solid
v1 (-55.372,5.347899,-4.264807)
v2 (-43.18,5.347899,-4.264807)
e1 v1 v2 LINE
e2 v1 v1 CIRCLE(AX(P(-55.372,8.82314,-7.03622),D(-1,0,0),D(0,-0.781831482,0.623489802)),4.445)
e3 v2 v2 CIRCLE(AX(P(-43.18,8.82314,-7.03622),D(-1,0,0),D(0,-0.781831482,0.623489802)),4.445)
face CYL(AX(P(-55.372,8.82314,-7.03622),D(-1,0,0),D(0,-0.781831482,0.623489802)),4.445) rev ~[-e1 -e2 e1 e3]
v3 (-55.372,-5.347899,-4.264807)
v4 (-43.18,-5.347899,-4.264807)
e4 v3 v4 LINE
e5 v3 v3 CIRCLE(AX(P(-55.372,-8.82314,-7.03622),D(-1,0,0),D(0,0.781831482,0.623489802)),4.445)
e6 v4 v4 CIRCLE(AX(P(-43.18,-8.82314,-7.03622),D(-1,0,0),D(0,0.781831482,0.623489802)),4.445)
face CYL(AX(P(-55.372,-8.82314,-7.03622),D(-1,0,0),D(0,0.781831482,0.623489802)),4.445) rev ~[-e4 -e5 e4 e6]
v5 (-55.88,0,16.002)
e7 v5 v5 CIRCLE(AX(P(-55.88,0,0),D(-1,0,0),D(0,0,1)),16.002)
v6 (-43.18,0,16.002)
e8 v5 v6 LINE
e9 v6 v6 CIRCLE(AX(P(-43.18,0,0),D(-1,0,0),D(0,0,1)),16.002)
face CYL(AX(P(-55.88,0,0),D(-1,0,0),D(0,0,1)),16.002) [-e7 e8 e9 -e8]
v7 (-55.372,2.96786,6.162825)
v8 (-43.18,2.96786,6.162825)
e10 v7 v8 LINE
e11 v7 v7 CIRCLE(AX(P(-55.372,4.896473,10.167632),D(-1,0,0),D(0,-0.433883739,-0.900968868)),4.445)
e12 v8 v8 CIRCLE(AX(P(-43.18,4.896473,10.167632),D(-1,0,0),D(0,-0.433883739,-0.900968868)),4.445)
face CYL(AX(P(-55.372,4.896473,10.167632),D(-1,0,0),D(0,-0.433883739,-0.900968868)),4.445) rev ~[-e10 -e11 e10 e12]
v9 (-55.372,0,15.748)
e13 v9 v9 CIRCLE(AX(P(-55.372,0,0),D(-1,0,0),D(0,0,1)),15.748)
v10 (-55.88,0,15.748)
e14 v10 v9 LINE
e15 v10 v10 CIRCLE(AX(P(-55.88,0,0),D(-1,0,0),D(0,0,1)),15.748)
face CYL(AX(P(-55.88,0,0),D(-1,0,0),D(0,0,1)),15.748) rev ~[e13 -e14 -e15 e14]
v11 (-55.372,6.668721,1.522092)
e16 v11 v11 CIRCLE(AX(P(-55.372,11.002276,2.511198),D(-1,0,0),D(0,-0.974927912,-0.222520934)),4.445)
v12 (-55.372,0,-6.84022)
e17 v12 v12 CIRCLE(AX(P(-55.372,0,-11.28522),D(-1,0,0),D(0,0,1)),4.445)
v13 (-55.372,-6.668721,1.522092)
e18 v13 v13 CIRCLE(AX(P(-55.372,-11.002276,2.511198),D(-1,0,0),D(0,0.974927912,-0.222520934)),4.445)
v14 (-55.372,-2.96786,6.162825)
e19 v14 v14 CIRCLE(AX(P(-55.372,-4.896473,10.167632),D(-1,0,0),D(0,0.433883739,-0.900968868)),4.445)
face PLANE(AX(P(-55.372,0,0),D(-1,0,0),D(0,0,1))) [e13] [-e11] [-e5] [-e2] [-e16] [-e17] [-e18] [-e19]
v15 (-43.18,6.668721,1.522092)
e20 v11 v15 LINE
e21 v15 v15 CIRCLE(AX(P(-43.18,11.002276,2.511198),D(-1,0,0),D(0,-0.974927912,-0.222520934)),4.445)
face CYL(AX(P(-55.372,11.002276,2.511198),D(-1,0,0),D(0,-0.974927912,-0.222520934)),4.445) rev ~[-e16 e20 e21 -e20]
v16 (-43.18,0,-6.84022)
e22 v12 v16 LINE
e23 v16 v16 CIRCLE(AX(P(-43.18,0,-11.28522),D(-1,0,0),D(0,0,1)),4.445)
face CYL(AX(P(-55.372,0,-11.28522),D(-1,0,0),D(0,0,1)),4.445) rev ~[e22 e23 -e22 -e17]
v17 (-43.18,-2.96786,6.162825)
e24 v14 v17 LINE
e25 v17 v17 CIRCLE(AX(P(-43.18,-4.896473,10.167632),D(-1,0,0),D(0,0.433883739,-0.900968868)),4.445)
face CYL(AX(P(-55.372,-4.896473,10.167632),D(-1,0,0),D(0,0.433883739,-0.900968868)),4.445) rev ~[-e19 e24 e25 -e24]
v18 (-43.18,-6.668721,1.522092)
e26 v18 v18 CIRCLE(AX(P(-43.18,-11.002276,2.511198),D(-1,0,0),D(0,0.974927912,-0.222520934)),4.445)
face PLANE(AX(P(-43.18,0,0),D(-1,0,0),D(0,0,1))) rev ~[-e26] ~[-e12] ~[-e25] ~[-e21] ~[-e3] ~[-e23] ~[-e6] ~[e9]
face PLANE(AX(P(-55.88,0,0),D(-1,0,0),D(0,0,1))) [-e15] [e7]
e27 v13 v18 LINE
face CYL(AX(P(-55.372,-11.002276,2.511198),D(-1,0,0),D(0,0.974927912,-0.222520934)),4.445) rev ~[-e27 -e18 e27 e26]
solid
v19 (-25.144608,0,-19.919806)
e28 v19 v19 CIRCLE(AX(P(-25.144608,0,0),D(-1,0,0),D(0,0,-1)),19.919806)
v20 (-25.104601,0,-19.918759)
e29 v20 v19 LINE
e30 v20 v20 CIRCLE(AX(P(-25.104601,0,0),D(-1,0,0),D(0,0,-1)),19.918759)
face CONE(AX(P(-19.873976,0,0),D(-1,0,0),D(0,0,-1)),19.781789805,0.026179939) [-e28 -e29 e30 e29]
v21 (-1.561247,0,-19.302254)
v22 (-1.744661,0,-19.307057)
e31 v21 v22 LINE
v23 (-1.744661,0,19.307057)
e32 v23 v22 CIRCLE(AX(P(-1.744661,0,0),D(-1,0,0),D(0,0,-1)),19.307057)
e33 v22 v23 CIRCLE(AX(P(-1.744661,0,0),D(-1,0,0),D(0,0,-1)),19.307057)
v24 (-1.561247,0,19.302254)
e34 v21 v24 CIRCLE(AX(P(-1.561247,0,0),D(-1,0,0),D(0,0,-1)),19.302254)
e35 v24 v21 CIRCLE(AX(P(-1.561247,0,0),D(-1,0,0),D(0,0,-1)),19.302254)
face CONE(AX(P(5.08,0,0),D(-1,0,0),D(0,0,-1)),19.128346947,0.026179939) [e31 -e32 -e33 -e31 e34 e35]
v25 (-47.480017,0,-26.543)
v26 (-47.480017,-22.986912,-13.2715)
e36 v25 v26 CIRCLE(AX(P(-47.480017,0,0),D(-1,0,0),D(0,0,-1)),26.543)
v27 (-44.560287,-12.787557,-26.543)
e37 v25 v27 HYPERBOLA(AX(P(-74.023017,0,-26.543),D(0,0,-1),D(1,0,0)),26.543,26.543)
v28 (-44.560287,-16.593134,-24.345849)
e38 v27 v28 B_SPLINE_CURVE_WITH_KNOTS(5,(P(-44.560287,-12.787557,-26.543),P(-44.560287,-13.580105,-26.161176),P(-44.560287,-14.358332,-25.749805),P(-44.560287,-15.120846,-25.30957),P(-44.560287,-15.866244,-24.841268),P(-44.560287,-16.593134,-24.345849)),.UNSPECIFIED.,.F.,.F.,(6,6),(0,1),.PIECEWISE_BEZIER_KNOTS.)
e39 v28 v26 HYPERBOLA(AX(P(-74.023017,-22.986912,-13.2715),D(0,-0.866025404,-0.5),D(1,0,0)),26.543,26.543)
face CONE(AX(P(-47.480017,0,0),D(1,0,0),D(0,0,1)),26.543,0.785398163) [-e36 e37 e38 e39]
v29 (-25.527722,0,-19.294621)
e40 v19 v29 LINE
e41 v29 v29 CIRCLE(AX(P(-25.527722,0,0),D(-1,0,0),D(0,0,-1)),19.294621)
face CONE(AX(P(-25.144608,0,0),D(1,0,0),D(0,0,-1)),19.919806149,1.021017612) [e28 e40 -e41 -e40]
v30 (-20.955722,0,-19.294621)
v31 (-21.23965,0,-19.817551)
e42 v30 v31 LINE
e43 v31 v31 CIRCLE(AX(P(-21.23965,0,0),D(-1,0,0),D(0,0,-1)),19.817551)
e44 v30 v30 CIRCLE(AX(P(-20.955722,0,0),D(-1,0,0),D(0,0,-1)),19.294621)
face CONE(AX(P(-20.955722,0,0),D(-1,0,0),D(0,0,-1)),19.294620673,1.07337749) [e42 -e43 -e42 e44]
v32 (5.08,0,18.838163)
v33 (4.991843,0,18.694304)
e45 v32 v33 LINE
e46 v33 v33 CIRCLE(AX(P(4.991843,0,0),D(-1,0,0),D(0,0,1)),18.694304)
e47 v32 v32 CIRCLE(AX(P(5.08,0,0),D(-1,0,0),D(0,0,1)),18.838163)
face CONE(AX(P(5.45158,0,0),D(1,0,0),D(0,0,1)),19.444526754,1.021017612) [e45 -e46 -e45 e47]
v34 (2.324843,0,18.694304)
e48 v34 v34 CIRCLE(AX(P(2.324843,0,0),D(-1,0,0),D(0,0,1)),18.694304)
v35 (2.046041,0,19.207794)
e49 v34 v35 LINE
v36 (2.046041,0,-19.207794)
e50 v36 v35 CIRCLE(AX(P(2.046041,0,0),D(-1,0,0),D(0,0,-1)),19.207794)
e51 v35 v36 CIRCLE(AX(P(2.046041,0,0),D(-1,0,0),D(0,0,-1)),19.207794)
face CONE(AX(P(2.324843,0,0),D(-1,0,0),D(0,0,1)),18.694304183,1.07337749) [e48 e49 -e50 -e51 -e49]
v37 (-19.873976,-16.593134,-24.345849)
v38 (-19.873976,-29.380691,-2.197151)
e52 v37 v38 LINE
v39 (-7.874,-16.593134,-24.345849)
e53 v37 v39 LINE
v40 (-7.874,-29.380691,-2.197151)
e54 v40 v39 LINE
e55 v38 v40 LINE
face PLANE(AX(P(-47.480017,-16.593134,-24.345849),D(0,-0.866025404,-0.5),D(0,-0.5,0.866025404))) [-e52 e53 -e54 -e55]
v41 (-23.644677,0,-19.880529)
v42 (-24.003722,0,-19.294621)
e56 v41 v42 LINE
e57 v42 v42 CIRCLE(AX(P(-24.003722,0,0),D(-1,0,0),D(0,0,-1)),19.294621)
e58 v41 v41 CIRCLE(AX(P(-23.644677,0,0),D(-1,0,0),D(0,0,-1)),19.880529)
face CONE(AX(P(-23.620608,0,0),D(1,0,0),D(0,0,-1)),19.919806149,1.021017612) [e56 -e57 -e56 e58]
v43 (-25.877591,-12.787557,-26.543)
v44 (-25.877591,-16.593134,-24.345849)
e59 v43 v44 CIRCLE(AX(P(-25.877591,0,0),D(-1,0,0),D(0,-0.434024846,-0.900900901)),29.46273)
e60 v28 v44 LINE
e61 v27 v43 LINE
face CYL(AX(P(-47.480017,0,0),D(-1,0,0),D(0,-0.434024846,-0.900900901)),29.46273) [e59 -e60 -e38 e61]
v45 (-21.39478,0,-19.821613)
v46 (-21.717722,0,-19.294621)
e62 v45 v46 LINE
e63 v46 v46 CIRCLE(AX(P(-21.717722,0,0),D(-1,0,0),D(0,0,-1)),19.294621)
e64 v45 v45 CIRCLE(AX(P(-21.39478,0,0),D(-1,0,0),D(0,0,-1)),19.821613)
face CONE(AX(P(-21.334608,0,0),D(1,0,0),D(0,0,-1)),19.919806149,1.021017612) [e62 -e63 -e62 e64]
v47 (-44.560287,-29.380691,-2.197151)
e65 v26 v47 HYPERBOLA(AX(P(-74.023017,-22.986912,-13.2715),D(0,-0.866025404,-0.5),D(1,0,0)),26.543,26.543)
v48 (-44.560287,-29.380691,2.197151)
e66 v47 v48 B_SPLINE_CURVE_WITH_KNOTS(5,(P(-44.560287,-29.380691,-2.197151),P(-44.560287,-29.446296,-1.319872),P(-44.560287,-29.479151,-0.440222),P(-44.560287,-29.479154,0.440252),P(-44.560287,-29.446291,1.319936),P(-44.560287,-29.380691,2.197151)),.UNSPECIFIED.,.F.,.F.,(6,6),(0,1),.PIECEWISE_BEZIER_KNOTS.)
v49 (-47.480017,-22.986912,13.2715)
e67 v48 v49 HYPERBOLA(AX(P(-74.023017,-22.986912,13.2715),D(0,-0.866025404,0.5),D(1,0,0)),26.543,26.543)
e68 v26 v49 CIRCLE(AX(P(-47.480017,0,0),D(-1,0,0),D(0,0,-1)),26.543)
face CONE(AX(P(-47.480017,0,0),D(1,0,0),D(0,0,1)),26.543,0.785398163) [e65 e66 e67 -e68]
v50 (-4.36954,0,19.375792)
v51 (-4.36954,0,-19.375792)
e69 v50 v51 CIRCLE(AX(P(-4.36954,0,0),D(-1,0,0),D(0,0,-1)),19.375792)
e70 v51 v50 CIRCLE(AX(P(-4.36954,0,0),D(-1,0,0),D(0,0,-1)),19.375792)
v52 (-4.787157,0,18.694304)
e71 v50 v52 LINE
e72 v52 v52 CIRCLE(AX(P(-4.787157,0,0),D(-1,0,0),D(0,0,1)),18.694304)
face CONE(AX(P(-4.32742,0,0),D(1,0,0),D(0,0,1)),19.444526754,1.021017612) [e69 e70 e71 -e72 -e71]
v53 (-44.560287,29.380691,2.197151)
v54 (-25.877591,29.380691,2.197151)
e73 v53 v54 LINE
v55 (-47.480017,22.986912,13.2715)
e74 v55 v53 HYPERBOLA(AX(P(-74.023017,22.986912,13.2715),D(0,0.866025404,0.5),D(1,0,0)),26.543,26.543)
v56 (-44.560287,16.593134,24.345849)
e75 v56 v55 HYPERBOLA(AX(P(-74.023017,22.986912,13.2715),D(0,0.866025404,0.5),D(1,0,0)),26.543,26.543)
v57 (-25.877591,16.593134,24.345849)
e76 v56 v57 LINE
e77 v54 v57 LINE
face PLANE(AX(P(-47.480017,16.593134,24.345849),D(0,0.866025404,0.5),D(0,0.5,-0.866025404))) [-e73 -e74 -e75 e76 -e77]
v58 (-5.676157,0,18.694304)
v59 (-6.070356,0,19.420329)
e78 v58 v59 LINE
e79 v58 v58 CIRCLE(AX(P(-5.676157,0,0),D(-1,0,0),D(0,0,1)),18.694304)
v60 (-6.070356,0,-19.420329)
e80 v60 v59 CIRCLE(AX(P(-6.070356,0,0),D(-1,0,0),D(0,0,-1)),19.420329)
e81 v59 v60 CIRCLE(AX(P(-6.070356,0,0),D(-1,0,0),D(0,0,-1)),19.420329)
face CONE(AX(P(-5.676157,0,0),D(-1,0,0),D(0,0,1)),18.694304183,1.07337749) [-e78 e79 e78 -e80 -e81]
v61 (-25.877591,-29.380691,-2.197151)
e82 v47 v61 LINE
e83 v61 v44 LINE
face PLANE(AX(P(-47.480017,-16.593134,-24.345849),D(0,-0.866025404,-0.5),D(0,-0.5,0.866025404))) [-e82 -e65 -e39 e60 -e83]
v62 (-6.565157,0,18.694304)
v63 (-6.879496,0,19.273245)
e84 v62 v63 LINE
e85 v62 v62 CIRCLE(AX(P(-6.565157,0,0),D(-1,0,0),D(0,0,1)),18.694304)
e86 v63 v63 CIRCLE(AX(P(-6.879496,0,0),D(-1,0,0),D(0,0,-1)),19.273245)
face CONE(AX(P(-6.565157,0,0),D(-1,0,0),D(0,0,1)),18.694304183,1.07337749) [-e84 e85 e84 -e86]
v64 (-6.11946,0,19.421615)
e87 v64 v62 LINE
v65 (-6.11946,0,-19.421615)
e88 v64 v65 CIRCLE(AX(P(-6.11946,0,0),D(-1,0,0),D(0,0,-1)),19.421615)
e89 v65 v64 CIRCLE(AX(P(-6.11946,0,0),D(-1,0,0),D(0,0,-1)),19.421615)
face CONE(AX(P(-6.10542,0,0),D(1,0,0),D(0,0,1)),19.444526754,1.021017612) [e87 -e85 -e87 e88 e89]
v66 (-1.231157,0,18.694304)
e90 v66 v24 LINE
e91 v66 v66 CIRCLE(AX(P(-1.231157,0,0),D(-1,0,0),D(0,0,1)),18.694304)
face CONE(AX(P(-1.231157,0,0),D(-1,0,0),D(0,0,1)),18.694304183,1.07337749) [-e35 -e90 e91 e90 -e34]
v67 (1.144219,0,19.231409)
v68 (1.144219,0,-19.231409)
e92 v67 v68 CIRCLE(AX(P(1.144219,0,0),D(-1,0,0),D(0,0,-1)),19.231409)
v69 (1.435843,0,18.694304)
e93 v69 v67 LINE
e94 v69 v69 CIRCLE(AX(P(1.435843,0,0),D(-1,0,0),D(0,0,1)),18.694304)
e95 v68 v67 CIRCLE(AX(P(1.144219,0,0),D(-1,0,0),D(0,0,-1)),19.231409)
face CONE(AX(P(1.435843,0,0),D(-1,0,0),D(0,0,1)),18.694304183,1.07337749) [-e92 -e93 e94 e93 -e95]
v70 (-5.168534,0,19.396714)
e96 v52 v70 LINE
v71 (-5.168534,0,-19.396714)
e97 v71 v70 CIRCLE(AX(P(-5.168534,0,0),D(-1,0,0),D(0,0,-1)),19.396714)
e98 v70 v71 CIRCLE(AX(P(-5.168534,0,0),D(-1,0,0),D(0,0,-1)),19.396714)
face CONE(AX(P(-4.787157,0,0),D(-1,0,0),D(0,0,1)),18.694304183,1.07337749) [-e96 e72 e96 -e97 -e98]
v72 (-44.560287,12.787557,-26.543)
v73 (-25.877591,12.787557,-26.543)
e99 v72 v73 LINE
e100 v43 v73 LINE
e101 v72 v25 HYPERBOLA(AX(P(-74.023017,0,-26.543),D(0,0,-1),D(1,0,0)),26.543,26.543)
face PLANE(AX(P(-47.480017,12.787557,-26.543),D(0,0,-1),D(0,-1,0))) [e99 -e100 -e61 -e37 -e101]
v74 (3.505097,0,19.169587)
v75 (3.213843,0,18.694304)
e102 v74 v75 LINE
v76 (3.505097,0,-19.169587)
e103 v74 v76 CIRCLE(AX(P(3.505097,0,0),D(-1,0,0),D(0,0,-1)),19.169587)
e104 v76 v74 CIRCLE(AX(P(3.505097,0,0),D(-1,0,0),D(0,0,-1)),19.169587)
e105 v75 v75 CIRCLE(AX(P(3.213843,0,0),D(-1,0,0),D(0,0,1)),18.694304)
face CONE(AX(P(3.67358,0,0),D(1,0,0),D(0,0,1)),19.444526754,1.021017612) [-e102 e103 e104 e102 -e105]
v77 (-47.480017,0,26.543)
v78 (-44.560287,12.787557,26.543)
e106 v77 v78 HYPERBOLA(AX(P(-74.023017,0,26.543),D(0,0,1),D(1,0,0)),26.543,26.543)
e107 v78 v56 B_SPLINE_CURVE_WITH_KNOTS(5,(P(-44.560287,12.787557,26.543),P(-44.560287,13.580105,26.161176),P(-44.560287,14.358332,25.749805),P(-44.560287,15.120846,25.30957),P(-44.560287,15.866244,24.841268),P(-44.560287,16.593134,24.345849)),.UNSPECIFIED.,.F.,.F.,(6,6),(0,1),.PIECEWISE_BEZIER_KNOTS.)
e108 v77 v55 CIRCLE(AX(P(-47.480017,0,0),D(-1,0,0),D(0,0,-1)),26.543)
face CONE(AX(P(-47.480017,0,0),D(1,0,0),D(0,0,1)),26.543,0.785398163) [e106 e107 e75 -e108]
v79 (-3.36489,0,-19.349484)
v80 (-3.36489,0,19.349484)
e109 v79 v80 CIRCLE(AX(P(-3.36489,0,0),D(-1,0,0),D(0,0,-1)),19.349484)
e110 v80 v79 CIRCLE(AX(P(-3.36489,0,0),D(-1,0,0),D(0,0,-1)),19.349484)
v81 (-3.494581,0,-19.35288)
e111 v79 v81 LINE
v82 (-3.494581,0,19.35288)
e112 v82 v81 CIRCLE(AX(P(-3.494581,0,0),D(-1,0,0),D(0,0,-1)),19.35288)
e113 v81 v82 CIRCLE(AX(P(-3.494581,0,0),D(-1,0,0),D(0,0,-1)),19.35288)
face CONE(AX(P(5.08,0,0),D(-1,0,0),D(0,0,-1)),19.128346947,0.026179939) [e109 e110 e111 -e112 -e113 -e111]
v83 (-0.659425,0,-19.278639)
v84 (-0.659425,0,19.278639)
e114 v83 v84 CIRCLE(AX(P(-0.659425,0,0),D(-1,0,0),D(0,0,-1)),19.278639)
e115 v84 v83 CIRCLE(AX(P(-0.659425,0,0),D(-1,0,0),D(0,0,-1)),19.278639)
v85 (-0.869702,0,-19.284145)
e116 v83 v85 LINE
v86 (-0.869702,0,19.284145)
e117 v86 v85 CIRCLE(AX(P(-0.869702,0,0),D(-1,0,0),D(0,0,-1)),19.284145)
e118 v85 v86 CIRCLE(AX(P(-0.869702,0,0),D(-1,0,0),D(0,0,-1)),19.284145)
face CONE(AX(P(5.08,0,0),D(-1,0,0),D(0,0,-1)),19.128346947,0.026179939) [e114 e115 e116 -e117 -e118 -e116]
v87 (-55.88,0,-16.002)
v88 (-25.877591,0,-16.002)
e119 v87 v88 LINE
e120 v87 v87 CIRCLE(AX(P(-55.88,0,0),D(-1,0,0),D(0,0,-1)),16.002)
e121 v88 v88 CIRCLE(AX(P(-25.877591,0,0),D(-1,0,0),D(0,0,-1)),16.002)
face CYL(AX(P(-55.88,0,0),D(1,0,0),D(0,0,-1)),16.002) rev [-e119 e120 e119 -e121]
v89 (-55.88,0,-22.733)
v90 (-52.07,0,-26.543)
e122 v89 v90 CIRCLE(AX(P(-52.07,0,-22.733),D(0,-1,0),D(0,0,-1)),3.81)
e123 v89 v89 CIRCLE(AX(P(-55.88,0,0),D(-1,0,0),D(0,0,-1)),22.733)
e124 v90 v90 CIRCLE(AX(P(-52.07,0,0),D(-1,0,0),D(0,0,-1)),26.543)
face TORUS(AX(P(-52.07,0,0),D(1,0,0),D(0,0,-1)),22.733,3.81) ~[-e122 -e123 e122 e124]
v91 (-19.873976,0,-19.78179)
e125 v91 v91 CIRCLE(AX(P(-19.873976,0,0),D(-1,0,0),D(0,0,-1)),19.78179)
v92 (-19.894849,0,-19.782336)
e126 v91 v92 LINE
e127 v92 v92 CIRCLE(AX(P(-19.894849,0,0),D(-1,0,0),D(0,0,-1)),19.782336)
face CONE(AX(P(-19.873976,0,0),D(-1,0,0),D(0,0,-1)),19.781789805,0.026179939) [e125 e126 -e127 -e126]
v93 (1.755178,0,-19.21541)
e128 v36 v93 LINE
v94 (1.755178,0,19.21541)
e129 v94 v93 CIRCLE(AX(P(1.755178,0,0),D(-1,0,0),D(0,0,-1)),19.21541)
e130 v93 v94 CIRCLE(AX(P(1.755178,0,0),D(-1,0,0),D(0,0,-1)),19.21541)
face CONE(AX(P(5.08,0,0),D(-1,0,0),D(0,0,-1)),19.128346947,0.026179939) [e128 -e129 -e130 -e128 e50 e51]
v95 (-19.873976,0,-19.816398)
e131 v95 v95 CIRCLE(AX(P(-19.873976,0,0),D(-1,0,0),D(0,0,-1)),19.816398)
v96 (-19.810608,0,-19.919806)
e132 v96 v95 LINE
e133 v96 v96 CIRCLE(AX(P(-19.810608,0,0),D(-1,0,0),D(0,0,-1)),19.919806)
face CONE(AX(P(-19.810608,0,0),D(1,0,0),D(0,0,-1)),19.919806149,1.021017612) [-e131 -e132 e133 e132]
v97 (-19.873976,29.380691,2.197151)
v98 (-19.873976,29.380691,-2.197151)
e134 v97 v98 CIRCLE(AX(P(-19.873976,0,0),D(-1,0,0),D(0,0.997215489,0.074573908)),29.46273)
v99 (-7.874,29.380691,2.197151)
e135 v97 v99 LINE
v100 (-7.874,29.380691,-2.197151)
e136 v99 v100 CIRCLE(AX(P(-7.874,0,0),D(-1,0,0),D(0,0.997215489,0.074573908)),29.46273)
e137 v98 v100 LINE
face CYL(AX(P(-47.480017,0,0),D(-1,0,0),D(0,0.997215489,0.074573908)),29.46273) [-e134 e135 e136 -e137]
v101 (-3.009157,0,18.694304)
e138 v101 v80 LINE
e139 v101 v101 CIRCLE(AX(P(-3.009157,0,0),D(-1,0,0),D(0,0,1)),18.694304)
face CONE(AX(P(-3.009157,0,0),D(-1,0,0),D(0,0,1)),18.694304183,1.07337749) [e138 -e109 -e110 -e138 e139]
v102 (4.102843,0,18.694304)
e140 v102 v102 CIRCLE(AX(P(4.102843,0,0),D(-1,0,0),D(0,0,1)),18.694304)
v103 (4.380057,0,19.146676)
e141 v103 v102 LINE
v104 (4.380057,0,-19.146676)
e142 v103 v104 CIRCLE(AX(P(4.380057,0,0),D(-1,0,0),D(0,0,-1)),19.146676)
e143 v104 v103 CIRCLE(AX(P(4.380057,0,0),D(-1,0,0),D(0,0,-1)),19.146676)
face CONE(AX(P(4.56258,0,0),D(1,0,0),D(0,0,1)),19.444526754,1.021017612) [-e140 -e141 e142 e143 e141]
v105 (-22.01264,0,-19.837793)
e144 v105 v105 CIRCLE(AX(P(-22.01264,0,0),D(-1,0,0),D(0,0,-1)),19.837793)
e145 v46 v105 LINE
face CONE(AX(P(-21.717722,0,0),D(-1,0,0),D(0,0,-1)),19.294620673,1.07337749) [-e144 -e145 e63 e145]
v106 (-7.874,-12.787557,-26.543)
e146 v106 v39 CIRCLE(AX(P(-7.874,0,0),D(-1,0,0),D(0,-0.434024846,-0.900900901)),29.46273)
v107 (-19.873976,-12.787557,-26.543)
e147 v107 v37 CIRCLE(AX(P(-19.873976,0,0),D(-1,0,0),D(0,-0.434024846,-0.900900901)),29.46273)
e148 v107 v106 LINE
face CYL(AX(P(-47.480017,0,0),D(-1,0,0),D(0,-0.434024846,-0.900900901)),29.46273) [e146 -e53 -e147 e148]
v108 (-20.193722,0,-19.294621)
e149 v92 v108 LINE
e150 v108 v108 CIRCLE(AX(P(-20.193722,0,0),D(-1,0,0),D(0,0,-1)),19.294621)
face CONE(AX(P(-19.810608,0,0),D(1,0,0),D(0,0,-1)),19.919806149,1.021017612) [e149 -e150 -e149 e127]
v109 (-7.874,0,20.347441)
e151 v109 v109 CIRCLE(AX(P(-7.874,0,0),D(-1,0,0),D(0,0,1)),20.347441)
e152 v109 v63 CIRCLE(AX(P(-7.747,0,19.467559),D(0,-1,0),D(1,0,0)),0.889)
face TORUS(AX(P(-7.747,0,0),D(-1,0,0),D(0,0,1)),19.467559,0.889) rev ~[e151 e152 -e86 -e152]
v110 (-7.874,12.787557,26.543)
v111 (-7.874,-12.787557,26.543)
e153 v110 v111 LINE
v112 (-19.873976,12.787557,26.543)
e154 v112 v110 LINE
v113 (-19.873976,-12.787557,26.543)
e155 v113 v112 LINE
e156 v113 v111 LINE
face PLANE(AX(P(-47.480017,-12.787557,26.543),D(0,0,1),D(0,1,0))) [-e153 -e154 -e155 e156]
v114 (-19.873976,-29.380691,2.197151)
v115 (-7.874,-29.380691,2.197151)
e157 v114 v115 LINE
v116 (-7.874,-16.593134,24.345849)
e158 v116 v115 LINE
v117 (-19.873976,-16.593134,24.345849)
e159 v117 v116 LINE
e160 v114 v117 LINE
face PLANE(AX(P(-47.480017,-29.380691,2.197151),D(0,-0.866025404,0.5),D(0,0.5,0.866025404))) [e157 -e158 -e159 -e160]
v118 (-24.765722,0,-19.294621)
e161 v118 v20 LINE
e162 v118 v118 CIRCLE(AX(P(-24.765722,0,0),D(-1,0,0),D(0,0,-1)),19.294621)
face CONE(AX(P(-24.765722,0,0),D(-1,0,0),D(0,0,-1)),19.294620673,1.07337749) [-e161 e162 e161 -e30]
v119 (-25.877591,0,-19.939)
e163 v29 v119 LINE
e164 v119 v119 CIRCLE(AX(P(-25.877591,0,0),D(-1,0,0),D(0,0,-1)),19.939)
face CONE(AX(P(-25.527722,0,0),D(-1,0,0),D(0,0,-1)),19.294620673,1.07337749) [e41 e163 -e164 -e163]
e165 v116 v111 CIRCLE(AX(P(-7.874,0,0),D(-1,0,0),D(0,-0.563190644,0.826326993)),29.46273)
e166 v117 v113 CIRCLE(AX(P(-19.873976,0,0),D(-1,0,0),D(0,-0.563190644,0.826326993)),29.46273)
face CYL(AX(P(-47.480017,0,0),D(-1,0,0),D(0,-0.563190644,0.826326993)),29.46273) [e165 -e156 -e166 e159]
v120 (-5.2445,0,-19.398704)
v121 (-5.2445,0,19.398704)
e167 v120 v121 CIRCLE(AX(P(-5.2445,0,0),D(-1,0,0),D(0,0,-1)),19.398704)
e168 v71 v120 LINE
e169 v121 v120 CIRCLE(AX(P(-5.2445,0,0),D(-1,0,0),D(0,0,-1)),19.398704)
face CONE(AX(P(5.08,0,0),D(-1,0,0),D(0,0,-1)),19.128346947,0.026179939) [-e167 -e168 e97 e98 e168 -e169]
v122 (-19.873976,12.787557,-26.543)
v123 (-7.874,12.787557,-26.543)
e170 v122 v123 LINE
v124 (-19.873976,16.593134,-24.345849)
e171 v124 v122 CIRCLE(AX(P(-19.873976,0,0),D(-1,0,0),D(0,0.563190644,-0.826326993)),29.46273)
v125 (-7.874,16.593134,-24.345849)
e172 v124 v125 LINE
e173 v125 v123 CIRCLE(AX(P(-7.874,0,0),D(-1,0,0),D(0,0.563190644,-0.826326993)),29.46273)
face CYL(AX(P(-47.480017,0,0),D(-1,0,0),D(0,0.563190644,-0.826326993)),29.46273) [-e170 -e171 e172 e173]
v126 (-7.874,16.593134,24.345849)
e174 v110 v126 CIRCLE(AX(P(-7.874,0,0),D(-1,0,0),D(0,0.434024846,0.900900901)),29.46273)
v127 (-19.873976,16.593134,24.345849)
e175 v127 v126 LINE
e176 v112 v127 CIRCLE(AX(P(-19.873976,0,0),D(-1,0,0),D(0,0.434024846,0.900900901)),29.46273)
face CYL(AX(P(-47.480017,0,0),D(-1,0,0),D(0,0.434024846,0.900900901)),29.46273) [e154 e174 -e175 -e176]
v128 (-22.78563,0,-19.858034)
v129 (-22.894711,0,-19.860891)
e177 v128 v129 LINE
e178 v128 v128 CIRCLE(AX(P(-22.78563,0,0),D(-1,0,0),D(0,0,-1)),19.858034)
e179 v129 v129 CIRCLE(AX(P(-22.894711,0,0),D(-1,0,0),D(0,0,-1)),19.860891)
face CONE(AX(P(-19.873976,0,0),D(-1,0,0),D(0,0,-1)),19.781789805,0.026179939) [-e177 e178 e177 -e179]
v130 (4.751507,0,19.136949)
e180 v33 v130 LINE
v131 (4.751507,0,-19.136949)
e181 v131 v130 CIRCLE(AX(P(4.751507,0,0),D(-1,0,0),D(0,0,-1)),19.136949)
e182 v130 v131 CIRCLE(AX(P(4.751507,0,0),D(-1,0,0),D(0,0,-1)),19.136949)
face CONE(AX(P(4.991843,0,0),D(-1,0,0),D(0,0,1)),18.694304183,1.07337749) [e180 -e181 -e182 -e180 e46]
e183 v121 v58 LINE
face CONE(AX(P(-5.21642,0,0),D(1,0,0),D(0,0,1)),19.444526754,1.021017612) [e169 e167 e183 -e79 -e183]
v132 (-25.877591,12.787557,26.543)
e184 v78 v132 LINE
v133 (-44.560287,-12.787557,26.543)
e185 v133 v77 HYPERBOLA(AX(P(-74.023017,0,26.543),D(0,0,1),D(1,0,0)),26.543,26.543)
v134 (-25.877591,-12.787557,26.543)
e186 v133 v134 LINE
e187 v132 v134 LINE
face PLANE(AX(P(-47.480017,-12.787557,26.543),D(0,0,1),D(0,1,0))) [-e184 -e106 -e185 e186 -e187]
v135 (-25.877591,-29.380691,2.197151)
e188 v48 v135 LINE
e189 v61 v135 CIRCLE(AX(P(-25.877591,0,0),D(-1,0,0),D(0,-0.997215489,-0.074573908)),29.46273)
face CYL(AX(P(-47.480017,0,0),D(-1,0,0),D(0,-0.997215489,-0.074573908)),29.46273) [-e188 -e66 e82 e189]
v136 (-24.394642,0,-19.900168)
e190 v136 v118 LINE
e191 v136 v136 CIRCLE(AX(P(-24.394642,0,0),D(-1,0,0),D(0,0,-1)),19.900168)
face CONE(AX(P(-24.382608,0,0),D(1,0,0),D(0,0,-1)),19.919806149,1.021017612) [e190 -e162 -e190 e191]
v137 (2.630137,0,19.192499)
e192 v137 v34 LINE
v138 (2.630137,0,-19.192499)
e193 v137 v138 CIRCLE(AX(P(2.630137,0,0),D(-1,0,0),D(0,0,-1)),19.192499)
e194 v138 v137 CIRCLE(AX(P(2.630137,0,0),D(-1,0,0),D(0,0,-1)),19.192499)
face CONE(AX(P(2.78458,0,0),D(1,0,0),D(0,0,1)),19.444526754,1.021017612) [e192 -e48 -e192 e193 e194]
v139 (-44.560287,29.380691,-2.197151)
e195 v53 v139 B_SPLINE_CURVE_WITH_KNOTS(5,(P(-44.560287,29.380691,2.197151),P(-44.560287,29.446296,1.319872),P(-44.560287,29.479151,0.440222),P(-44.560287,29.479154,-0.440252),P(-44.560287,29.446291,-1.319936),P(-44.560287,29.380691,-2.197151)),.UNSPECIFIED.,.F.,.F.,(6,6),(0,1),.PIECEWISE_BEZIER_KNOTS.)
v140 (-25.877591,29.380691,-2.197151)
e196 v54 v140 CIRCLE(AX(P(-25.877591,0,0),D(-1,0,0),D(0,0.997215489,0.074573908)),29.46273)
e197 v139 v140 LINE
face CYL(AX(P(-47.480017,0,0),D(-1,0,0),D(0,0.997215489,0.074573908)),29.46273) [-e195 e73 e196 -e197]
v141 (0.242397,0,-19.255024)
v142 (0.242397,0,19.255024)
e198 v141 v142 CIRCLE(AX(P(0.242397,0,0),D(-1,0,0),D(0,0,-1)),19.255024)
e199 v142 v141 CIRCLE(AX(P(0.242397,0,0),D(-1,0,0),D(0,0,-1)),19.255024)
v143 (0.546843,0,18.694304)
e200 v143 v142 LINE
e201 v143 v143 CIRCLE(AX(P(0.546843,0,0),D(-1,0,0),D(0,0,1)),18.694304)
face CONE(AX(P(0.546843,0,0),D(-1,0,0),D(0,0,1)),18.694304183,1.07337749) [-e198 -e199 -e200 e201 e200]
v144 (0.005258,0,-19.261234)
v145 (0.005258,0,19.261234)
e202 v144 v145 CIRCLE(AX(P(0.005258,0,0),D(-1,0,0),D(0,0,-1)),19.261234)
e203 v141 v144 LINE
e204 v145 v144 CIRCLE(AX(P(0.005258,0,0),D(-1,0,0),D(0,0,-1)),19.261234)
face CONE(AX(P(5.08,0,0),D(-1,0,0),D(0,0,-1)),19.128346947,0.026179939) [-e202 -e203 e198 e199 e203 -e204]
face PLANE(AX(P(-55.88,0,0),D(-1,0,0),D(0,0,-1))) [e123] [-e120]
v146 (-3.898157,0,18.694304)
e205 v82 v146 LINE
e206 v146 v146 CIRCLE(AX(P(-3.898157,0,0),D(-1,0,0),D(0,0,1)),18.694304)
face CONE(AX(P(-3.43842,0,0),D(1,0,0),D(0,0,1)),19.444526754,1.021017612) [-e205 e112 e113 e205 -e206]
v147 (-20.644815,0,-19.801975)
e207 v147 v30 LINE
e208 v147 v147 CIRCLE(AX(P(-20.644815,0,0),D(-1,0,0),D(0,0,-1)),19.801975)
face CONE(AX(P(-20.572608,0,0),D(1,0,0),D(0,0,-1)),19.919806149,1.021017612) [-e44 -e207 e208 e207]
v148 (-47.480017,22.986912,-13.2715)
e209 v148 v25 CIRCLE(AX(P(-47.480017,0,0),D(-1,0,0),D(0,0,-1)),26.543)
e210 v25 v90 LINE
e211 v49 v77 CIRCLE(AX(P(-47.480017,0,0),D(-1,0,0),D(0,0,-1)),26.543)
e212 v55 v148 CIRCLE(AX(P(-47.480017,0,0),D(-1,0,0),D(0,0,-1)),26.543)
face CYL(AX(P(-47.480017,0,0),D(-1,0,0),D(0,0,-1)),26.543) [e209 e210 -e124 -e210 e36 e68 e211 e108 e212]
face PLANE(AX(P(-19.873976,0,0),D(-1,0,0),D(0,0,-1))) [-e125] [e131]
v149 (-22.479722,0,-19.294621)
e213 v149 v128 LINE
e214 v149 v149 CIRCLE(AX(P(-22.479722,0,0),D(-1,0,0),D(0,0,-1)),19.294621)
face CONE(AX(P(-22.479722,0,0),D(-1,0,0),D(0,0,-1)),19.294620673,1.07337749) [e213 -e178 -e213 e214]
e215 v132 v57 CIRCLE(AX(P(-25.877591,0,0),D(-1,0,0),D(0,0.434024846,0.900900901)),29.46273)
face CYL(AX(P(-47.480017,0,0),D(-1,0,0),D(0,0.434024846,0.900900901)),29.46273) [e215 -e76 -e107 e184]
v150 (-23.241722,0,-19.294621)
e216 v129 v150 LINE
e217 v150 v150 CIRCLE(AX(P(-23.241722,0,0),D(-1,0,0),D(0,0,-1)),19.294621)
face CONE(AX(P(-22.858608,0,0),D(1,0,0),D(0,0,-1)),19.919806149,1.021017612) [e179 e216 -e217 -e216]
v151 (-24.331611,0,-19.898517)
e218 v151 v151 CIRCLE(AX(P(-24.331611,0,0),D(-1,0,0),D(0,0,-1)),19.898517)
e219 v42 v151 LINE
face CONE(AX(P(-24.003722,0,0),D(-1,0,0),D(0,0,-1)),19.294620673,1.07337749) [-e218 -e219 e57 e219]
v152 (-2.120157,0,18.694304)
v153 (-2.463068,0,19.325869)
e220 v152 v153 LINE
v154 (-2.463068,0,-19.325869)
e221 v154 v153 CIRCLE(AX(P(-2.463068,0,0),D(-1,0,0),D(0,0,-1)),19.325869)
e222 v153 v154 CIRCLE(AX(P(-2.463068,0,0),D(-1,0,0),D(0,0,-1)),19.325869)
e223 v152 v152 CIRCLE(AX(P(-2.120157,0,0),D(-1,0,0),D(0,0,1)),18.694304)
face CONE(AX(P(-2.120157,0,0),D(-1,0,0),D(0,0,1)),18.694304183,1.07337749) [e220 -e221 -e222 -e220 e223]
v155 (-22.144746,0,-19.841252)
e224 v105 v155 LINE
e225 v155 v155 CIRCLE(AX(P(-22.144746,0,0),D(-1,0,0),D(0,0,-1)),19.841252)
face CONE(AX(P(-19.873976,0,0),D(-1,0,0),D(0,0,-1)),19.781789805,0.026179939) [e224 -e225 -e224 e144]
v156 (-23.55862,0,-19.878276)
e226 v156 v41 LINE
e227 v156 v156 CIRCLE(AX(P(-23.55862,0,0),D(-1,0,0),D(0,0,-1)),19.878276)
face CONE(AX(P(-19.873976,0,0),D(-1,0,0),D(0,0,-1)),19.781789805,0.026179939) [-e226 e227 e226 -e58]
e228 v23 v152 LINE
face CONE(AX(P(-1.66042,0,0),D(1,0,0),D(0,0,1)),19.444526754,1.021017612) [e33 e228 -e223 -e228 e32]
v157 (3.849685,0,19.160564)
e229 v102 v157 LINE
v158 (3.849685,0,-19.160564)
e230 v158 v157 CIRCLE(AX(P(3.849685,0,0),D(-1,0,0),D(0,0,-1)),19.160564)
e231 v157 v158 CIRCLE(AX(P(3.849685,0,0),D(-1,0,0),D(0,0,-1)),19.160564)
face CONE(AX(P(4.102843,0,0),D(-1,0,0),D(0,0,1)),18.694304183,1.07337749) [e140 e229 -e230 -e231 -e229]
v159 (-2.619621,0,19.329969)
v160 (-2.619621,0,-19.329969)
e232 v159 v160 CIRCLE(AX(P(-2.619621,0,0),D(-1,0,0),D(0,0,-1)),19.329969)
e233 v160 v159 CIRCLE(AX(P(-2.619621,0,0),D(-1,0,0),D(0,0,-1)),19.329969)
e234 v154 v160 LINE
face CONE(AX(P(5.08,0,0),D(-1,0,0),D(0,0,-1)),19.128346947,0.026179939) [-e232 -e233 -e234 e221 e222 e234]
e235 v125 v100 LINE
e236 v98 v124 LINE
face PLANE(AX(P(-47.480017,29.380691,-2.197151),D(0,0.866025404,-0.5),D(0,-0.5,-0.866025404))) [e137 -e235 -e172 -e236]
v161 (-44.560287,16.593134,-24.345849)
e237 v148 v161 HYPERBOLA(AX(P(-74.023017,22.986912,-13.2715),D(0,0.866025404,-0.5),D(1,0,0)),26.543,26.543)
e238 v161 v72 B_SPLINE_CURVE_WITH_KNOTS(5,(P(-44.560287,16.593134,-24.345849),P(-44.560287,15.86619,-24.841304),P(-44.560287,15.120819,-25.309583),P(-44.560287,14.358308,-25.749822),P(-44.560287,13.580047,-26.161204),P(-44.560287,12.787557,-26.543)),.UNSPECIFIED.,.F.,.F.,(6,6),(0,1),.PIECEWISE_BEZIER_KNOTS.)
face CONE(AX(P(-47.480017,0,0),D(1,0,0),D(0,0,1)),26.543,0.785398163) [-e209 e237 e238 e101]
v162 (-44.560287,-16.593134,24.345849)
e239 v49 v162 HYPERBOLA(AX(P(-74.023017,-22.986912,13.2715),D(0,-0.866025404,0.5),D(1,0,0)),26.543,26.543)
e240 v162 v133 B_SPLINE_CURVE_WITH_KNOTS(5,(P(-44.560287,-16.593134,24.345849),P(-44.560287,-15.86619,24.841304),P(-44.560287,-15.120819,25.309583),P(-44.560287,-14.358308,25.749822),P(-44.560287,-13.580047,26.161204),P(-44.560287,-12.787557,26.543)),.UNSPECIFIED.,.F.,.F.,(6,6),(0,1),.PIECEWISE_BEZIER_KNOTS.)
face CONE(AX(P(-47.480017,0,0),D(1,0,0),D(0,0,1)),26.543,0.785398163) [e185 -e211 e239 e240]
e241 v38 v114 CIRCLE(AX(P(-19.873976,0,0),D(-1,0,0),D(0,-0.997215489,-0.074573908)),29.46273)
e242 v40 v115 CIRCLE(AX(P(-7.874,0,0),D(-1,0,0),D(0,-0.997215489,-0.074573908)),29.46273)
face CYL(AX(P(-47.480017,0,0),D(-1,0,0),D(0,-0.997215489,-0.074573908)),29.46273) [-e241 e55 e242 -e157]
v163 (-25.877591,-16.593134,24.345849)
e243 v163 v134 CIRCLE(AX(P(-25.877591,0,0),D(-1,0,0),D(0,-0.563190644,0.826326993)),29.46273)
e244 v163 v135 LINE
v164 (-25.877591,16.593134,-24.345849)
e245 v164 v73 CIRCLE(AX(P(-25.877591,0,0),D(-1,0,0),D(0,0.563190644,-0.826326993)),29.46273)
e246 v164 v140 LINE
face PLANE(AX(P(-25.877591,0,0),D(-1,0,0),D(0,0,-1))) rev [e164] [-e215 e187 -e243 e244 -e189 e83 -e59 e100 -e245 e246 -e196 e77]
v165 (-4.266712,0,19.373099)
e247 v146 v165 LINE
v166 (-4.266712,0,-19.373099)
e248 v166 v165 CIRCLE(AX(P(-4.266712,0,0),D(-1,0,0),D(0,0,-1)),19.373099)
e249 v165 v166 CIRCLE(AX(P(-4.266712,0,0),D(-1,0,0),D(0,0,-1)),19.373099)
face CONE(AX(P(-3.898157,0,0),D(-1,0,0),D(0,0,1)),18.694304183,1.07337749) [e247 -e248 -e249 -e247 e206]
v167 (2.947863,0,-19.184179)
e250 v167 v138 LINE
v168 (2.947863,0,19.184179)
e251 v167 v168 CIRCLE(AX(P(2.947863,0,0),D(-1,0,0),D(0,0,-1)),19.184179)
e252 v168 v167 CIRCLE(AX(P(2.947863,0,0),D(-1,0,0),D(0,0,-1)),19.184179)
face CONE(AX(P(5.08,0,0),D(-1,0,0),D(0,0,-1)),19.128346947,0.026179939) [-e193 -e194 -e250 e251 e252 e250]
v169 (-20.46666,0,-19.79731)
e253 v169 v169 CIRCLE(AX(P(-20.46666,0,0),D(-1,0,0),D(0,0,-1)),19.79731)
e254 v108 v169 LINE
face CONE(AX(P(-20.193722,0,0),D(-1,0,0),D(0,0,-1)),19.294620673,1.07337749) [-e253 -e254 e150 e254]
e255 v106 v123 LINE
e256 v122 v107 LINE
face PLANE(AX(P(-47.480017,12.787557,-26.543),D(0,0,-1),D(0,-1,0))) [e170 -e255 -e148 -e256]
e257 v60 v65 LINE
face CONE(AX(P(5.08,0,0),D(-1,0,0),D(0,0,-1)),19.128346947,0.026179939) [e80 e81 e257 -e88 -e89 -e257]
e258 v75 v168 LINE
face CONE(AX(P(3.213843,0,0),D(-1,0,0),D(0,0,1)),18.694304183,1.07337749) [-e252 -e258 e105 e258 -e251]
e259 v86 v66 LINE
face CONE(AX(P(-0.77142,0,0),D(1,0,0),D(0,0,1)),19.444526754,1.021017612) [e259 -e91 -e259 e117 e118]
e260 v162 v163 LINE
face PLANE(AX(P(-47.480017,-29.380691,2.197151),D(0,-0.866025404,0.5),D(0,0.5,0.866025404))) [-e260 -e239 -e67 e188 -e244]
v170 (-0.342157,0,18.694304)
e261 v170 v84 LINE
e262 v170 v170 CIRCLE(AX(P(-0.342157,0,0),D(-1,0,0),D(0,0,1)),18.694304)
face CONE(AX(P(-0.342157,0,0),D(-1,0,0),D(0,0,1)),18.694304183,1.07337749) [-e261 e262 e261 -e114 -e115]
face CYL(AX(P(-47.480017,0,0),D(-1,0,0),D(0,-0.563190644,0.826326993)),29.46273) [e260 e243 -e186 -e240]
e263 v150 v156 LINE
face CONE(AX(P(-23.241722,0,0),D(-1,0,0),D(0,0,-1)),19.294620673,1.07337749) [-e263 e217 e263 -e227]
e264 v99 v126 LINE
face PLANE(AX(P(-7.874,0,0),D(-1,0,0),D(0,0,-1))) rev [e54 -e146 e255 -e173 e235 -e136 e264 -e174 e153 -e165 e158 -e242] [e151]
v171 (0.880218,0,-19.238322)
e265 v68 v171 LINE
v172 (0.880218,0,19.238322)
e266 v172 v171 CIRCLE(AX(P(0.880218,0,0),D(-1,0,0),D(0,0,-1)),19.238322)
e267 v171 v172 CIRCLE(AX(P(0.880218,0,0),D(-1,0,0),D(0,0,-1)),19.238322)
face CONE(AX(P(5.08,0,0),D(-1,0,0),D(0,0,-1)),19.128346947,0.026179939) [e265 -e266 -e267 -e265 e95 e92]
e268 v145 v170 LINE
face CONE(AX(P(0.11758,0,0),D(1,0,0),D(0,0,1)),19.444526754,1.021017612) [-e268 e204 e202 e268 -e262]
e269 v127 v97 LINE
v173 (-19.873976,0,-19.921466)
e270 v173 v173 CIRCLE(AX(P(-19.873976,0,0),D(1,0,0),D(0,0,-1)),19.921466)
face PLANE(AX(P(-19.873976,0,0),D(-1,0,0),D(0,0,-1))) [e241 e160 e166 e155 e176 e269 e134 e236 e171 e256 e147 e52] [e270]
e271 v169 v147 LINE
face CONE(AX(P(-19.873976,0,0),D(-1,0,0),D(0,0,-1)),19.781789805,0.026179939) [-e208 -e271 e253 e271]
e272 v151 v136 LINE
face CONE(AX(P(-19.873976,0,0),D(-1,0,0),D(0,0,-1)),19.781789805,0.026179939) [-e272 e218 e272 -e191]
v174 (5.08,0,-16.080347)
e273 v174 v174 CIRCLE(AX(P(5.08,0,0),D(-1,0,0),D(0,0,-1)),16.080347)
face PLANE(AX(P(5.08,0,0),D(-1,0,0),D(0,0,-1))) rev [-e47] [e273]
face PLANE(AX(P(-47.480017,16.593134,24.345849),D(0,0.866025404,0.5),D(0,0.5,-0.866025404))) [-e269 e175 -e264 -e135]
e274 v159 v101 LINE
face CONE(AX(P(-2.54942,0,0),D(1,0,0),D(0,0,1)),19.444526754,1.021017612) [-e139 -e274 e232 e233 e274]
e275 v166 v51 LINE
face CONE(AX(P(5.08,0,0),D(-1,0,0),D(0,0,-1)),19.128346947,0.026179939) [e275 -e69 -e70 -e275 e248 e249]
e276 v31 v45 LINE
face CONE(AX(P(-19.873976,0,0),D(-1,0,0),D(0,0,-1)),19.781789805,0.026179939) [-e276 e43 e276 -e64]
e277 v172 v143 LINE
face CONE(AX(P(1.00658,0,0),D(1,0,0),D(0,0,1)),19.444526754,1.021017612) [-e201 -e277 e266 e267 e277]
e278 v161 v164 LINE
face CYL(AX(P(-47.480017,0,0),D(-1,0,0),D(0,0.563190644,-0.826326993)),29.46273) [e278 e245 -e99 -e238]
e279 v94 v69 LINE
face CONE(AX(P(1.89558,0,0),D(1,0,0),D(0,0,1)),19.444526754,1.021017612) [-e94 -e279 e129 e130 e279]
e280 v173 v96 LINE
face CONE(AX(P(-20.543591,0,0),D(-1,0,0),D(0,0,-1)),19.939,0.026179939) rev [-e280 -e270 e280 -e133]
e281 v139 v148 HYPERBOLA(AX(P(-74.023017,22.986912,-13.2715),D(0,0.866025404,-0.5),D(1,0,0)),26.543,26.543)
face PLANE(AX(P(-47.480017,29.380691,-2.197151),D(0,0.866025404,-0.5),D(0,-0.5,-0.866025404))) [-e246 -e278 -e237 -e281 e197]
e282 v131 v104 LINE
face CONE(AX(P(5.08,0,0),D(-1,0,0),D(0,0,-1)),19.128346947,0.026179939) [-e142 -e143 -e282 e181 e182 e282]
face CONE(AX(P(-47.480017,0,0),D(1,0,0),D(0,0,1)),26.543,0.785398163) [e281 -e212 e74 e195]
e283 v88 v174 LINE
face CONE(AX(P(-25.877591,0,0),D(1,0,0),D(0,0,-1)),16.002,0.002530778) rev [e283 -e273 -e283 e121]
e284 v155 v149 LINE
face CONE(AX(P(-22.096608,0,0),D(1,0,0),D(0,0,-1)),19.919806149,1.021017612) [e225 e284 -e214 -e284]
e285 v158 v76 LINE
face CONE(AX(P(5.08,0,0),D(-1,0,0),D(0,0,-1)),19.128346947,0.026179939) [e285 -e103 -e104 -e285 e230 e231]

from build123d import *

# Parameters (mm, degrees)
SKETCH12_OUTSIDE_W = 140.582
SKETCH12_OUTSIDE_H = 140.582
CUT_EXTRUDE2_DEPTH = 53.5600168
FILLET4_R          = 3.81
SKETCH19_OUTSIDE_W = 83.088
SKETCH19_OUTSIDE_H = 88.928
SKETCH19_OUTSIDE_R = 26.543
CUT_EXTRUDE3_DEPTH = 3.99796
CUT_EXTRUDE3_DRAFT = -45
CHAMFER1_SIZE      = 0.260919487
CHAMFER1_SIZE2     = 0.254
SKETCH21_R         = 16.002
PLUG_DEPTH         = 12.7
SKETCH22_R         = 15.748
CUT_EXTRUDE4_DEPTH = 0.508
SKETCH27_R         = 4.445
PLUGHOLES_DEPTH    = 61.452
CIRPATTERN1_COUNT  = 7
LPATTERN1_COUNT    = 8
LPATTERN1_PITCH    = 0.762
LPATTERN2_COUNT    = 15
LPATTERN2_PITCH    = 0.889
SKETCH32_R         = 0.889


with BuildPart() as part:
    # Sketch10 → Revolve2 (revolve)
    with BuildSketch(Plane.XY, mode=Mode.PRIVATE) as revolve2_sk:
        Polygon((-55.88, 16.002), (-25.87759112, 16.002), (5.08, 16.080346947), (5.08, 19.128346947), (-7.874, 19.467559375), (-7.874, 53.086), (-19.873976, 53.086), (-19.873976, 19.781789805), (-25.87759112, 19.939), (-25.87759112, 53.086), (-47.4800168, 53.086), (-47.4800168, 26.543), (-55.88, 26.543), align=None)
    revolve(revolve2_sk.sketch.rotate(Axis((0, 0, 0), (-1, 0, 0)), 90), axis=Axis((0, 0, 0), (-1, 0, 0)))  # turned: the seam where the file's is

    # Sketch12 outside → Cut-Extrude2 (cut, through all)
    with BuildSketch(Plane.ZY.offset(47.4800168)):
        Rectangle(SKETCH12_OUTSIDE_W, SKETCH12_OUTSIDE_H)
        with BuildLine():
            Line((-2.19715092, 29.380690715), (-24.34584908, 16.59313387))
            ThreePointArc((-24.34584908, 16.59313387), (-25.515472645, 14.731365), (-26.543, 12.787556845))
            Line((-26.543, 12.787556845), (-26.543, -12.787556845))
            ThreePointArc((-26.543, -12.787556845), (-25.515472645, -14.731365), (-24.34584908, -16.59313387))
            Line((-24.34584908, -16.59313387), (-2.19715092, -29.380690715))
            ThreePointArc((-2.19715092, -29.380690715), (0, -29.46273), (2.19715092, -29.380690715))
            Line((2.19715092, -29.380690715), (24.34584908, -16.59313387))
            ThreePointArc((24.34584908, -16.59313387), (25.515472645, -14.731365), (26.543, -12.787556845))
            Line((26.543, -12.787556845), (26.543, 12.787556845))
            ThreePointArc((26.543, 12.787556845), (25.515472645, 14.731365), (24.34584908, 16.59313387))
            Line((24.34584908, 16.59313387), (2.19715092, 29.380690715))
            ThreePointArc((2.19715092, 29.380690715), (0, 29.46273), (-2.19715092, 29.380690715))
        make_face(mode=Mode.SUBTRACT)
    extrude(amount=-CUT_EXTRUDE2_DEPTH, mode=Mode.SUBTRACT)

    # Fillet4
    fillet4_edges = [part.edges().sort_by_distance(p)[0] for p in [
        (-55.88, 0, 26.543),
    ]]
    fillet(fillet4_edges, radius=FILLET4_R)


with BuildPart() as cut_extrude3_tool:
    # Sketch19 outside → Cut-Extrude3 (with draft: the straight prism first)
    with BuildSketch(Plane.ZY.offset(47.4800168)):
        Rectangle(SKETCH19_OUTSIDE_W, SKETCH19_OUTSIDE_H)
        Circle(SKETCH19_OUTSIDE_R, mode=Mode.SUBTRACT)
    extrude(amount=-CUT_EXTRUDE3_DEPTH)
    # Cut-Extrude3: the draft: its side faces are tilted about the plane it starts from
    cut_extrude3_sides = [cut_extrude3_tool.faces().sort_by_distance(p)[0] for p in [
        (-45.4810368, -44.464, 0),
        (-45.4810368, 0, 41.544),
        (-45.4810368, 44.464, 0),
        (-45.4810368, 0, -41.544),
        (-45.4810368, 0, -26.543),
    ]]
    draft(cut_extrude3_sides, Plane.ZY.offset(47.4800168), CUT_EXTRUDE3_DRAFT)


with BuildPart() as part_1:
    add(part.part)

    # Cut-Extrude3: cut by cut_extrude3_tool
    add(cut_extrude3_tool.part, mode=Mode.SUBTRACT)

    # Chamfer1
    chamfer1_edges = [part_1.edges().sort_by_distance(p)[0] for p in [
        (5.08, 0, 19.128346947),
    ]]
    chamfer1_side = [part_1.faces().sort_by_distance(p)[0] for p in [
        (5.08, 0, 16.621378301),
    ]]
    chamfer(chamfer1_edges, length=CHAMFER1_SIZE, length2=CHAMFER1_SIZE2, reference=chamfer1_side[0])

    # Sketch29 → Cut-Revolve1 (revolve, cut)
    with BuildSketch(Plane.XY, mode=Mode.PRIVATE) as cut_revolve1_sk:
        Polygon((-25.87759112, 19.939), (-25.144607539, 19.919806149), (-25.527721692, 19.294620673), align=None)
    cut_revolve1 = revolve(cut_revolve1_sk.sketch.rotate(Axis((0, 0, 0), (-1, 0, 0)), 90), axis=Axis((0, 0, 0), (-1, 0, 0)), mode=Mode.SUBTRACT)  # turned: the seam where the file's is

    # LPattern1: Cut-Revolve1 ×8
    with Locations(*[(i * LPATTERN1_PITCH, 0, 0) for i in range(1, LPATTERN1_COUNT)]):
        add(cut_revolve1, mode=Mode.SUBTRACT)

    # Sketch30 → Cut-Revolve2 (revolve, cut)
    with BuildSketch(Plane.XY, mode=Mode.PRIVATE) as cut_revolve2_sk:
        Polygon((-7.874, 19.467559375), (-6.994419703, 19.444526754), (-7.454156686, 18.694304183), align=None)
    cut_revolve2 = revolve(cut_revolve2_sk.sketch.rotate(Axis((0, 0, 0), (-1, 0, 0)), 270), axis=Axis((0, 0, 0), (-1, 0, 0)), mode=Mode.SUBTRACT)  # turned: the seam where the file's is

    # LPattern2: Cut-Revolve2 ×15
    with Locations(*[(i * LPATTERN2_PITCH, 0, 0) for i in range(1, LPATTERN2_COUNT)]):
        add(cut_revolve2, mode=Mode.SUBTRACT)

    # Sketch32 → Cut-Revolve3 (revolve, cut)
    with BuildSketch(Plane.XY, mode=Mode.PRIVATE) as cut_revolve3_sk:
        with Locations((-7.747, 19.467559375)):
            Circle(SKETCH32_R)
    revolve(cut_revolve3_sk.sketch.rotate(Axis((0, 0, 0), (-1, 0, 0)), 270), axis=Axis((0, 0, 0), (-1, 0, 0)), mode=Mode.SUBTRACT)  # turned: the seam where the file's is


with BuildPart() as body_2:
    # Sketch21 → plug (new body)
    with BuildSketch(Plane.ZY.offset(55.88)):
        Circle(SKETCH21_R)
    extrude(amount=-PLUG_DEPTH)

    # Sketch22 → Cut-Extrude4 (cut)
    with BuildSketch(Plane.ZY.offset(55.88)):
        Circle(SKETCH22_R)
    extrude(amount=-CUT_EXTRUDE4_DEPTH, mode=Mode.SUBTRACT)

    # Sketch27 → plugholes (cut, through all)
    with BuildSketch(Plane.ZY.offset(55.372)):
        with Locations((-11.28522, 0)):
            Circle(SKETCH27_R)
    plugholes = extrude(amount=-PLUGHOLES_DEPTH, mode=Mode.SUBTRACT)

    # CirPattern1: plugholes ×7 about axis
    cirpattern1_axis = Axis((0, 0, 0), (1, 0, 0))
    for i in range(1, CIRPATTERN1_COUNT):
        add(plugholes.rotate(cirpattern1_axis, i * 360 / CIRPATTERN1_COUNT), mode=Mode.SUBTRACT)


solid = Compound([part_1.part, body_2.part])
